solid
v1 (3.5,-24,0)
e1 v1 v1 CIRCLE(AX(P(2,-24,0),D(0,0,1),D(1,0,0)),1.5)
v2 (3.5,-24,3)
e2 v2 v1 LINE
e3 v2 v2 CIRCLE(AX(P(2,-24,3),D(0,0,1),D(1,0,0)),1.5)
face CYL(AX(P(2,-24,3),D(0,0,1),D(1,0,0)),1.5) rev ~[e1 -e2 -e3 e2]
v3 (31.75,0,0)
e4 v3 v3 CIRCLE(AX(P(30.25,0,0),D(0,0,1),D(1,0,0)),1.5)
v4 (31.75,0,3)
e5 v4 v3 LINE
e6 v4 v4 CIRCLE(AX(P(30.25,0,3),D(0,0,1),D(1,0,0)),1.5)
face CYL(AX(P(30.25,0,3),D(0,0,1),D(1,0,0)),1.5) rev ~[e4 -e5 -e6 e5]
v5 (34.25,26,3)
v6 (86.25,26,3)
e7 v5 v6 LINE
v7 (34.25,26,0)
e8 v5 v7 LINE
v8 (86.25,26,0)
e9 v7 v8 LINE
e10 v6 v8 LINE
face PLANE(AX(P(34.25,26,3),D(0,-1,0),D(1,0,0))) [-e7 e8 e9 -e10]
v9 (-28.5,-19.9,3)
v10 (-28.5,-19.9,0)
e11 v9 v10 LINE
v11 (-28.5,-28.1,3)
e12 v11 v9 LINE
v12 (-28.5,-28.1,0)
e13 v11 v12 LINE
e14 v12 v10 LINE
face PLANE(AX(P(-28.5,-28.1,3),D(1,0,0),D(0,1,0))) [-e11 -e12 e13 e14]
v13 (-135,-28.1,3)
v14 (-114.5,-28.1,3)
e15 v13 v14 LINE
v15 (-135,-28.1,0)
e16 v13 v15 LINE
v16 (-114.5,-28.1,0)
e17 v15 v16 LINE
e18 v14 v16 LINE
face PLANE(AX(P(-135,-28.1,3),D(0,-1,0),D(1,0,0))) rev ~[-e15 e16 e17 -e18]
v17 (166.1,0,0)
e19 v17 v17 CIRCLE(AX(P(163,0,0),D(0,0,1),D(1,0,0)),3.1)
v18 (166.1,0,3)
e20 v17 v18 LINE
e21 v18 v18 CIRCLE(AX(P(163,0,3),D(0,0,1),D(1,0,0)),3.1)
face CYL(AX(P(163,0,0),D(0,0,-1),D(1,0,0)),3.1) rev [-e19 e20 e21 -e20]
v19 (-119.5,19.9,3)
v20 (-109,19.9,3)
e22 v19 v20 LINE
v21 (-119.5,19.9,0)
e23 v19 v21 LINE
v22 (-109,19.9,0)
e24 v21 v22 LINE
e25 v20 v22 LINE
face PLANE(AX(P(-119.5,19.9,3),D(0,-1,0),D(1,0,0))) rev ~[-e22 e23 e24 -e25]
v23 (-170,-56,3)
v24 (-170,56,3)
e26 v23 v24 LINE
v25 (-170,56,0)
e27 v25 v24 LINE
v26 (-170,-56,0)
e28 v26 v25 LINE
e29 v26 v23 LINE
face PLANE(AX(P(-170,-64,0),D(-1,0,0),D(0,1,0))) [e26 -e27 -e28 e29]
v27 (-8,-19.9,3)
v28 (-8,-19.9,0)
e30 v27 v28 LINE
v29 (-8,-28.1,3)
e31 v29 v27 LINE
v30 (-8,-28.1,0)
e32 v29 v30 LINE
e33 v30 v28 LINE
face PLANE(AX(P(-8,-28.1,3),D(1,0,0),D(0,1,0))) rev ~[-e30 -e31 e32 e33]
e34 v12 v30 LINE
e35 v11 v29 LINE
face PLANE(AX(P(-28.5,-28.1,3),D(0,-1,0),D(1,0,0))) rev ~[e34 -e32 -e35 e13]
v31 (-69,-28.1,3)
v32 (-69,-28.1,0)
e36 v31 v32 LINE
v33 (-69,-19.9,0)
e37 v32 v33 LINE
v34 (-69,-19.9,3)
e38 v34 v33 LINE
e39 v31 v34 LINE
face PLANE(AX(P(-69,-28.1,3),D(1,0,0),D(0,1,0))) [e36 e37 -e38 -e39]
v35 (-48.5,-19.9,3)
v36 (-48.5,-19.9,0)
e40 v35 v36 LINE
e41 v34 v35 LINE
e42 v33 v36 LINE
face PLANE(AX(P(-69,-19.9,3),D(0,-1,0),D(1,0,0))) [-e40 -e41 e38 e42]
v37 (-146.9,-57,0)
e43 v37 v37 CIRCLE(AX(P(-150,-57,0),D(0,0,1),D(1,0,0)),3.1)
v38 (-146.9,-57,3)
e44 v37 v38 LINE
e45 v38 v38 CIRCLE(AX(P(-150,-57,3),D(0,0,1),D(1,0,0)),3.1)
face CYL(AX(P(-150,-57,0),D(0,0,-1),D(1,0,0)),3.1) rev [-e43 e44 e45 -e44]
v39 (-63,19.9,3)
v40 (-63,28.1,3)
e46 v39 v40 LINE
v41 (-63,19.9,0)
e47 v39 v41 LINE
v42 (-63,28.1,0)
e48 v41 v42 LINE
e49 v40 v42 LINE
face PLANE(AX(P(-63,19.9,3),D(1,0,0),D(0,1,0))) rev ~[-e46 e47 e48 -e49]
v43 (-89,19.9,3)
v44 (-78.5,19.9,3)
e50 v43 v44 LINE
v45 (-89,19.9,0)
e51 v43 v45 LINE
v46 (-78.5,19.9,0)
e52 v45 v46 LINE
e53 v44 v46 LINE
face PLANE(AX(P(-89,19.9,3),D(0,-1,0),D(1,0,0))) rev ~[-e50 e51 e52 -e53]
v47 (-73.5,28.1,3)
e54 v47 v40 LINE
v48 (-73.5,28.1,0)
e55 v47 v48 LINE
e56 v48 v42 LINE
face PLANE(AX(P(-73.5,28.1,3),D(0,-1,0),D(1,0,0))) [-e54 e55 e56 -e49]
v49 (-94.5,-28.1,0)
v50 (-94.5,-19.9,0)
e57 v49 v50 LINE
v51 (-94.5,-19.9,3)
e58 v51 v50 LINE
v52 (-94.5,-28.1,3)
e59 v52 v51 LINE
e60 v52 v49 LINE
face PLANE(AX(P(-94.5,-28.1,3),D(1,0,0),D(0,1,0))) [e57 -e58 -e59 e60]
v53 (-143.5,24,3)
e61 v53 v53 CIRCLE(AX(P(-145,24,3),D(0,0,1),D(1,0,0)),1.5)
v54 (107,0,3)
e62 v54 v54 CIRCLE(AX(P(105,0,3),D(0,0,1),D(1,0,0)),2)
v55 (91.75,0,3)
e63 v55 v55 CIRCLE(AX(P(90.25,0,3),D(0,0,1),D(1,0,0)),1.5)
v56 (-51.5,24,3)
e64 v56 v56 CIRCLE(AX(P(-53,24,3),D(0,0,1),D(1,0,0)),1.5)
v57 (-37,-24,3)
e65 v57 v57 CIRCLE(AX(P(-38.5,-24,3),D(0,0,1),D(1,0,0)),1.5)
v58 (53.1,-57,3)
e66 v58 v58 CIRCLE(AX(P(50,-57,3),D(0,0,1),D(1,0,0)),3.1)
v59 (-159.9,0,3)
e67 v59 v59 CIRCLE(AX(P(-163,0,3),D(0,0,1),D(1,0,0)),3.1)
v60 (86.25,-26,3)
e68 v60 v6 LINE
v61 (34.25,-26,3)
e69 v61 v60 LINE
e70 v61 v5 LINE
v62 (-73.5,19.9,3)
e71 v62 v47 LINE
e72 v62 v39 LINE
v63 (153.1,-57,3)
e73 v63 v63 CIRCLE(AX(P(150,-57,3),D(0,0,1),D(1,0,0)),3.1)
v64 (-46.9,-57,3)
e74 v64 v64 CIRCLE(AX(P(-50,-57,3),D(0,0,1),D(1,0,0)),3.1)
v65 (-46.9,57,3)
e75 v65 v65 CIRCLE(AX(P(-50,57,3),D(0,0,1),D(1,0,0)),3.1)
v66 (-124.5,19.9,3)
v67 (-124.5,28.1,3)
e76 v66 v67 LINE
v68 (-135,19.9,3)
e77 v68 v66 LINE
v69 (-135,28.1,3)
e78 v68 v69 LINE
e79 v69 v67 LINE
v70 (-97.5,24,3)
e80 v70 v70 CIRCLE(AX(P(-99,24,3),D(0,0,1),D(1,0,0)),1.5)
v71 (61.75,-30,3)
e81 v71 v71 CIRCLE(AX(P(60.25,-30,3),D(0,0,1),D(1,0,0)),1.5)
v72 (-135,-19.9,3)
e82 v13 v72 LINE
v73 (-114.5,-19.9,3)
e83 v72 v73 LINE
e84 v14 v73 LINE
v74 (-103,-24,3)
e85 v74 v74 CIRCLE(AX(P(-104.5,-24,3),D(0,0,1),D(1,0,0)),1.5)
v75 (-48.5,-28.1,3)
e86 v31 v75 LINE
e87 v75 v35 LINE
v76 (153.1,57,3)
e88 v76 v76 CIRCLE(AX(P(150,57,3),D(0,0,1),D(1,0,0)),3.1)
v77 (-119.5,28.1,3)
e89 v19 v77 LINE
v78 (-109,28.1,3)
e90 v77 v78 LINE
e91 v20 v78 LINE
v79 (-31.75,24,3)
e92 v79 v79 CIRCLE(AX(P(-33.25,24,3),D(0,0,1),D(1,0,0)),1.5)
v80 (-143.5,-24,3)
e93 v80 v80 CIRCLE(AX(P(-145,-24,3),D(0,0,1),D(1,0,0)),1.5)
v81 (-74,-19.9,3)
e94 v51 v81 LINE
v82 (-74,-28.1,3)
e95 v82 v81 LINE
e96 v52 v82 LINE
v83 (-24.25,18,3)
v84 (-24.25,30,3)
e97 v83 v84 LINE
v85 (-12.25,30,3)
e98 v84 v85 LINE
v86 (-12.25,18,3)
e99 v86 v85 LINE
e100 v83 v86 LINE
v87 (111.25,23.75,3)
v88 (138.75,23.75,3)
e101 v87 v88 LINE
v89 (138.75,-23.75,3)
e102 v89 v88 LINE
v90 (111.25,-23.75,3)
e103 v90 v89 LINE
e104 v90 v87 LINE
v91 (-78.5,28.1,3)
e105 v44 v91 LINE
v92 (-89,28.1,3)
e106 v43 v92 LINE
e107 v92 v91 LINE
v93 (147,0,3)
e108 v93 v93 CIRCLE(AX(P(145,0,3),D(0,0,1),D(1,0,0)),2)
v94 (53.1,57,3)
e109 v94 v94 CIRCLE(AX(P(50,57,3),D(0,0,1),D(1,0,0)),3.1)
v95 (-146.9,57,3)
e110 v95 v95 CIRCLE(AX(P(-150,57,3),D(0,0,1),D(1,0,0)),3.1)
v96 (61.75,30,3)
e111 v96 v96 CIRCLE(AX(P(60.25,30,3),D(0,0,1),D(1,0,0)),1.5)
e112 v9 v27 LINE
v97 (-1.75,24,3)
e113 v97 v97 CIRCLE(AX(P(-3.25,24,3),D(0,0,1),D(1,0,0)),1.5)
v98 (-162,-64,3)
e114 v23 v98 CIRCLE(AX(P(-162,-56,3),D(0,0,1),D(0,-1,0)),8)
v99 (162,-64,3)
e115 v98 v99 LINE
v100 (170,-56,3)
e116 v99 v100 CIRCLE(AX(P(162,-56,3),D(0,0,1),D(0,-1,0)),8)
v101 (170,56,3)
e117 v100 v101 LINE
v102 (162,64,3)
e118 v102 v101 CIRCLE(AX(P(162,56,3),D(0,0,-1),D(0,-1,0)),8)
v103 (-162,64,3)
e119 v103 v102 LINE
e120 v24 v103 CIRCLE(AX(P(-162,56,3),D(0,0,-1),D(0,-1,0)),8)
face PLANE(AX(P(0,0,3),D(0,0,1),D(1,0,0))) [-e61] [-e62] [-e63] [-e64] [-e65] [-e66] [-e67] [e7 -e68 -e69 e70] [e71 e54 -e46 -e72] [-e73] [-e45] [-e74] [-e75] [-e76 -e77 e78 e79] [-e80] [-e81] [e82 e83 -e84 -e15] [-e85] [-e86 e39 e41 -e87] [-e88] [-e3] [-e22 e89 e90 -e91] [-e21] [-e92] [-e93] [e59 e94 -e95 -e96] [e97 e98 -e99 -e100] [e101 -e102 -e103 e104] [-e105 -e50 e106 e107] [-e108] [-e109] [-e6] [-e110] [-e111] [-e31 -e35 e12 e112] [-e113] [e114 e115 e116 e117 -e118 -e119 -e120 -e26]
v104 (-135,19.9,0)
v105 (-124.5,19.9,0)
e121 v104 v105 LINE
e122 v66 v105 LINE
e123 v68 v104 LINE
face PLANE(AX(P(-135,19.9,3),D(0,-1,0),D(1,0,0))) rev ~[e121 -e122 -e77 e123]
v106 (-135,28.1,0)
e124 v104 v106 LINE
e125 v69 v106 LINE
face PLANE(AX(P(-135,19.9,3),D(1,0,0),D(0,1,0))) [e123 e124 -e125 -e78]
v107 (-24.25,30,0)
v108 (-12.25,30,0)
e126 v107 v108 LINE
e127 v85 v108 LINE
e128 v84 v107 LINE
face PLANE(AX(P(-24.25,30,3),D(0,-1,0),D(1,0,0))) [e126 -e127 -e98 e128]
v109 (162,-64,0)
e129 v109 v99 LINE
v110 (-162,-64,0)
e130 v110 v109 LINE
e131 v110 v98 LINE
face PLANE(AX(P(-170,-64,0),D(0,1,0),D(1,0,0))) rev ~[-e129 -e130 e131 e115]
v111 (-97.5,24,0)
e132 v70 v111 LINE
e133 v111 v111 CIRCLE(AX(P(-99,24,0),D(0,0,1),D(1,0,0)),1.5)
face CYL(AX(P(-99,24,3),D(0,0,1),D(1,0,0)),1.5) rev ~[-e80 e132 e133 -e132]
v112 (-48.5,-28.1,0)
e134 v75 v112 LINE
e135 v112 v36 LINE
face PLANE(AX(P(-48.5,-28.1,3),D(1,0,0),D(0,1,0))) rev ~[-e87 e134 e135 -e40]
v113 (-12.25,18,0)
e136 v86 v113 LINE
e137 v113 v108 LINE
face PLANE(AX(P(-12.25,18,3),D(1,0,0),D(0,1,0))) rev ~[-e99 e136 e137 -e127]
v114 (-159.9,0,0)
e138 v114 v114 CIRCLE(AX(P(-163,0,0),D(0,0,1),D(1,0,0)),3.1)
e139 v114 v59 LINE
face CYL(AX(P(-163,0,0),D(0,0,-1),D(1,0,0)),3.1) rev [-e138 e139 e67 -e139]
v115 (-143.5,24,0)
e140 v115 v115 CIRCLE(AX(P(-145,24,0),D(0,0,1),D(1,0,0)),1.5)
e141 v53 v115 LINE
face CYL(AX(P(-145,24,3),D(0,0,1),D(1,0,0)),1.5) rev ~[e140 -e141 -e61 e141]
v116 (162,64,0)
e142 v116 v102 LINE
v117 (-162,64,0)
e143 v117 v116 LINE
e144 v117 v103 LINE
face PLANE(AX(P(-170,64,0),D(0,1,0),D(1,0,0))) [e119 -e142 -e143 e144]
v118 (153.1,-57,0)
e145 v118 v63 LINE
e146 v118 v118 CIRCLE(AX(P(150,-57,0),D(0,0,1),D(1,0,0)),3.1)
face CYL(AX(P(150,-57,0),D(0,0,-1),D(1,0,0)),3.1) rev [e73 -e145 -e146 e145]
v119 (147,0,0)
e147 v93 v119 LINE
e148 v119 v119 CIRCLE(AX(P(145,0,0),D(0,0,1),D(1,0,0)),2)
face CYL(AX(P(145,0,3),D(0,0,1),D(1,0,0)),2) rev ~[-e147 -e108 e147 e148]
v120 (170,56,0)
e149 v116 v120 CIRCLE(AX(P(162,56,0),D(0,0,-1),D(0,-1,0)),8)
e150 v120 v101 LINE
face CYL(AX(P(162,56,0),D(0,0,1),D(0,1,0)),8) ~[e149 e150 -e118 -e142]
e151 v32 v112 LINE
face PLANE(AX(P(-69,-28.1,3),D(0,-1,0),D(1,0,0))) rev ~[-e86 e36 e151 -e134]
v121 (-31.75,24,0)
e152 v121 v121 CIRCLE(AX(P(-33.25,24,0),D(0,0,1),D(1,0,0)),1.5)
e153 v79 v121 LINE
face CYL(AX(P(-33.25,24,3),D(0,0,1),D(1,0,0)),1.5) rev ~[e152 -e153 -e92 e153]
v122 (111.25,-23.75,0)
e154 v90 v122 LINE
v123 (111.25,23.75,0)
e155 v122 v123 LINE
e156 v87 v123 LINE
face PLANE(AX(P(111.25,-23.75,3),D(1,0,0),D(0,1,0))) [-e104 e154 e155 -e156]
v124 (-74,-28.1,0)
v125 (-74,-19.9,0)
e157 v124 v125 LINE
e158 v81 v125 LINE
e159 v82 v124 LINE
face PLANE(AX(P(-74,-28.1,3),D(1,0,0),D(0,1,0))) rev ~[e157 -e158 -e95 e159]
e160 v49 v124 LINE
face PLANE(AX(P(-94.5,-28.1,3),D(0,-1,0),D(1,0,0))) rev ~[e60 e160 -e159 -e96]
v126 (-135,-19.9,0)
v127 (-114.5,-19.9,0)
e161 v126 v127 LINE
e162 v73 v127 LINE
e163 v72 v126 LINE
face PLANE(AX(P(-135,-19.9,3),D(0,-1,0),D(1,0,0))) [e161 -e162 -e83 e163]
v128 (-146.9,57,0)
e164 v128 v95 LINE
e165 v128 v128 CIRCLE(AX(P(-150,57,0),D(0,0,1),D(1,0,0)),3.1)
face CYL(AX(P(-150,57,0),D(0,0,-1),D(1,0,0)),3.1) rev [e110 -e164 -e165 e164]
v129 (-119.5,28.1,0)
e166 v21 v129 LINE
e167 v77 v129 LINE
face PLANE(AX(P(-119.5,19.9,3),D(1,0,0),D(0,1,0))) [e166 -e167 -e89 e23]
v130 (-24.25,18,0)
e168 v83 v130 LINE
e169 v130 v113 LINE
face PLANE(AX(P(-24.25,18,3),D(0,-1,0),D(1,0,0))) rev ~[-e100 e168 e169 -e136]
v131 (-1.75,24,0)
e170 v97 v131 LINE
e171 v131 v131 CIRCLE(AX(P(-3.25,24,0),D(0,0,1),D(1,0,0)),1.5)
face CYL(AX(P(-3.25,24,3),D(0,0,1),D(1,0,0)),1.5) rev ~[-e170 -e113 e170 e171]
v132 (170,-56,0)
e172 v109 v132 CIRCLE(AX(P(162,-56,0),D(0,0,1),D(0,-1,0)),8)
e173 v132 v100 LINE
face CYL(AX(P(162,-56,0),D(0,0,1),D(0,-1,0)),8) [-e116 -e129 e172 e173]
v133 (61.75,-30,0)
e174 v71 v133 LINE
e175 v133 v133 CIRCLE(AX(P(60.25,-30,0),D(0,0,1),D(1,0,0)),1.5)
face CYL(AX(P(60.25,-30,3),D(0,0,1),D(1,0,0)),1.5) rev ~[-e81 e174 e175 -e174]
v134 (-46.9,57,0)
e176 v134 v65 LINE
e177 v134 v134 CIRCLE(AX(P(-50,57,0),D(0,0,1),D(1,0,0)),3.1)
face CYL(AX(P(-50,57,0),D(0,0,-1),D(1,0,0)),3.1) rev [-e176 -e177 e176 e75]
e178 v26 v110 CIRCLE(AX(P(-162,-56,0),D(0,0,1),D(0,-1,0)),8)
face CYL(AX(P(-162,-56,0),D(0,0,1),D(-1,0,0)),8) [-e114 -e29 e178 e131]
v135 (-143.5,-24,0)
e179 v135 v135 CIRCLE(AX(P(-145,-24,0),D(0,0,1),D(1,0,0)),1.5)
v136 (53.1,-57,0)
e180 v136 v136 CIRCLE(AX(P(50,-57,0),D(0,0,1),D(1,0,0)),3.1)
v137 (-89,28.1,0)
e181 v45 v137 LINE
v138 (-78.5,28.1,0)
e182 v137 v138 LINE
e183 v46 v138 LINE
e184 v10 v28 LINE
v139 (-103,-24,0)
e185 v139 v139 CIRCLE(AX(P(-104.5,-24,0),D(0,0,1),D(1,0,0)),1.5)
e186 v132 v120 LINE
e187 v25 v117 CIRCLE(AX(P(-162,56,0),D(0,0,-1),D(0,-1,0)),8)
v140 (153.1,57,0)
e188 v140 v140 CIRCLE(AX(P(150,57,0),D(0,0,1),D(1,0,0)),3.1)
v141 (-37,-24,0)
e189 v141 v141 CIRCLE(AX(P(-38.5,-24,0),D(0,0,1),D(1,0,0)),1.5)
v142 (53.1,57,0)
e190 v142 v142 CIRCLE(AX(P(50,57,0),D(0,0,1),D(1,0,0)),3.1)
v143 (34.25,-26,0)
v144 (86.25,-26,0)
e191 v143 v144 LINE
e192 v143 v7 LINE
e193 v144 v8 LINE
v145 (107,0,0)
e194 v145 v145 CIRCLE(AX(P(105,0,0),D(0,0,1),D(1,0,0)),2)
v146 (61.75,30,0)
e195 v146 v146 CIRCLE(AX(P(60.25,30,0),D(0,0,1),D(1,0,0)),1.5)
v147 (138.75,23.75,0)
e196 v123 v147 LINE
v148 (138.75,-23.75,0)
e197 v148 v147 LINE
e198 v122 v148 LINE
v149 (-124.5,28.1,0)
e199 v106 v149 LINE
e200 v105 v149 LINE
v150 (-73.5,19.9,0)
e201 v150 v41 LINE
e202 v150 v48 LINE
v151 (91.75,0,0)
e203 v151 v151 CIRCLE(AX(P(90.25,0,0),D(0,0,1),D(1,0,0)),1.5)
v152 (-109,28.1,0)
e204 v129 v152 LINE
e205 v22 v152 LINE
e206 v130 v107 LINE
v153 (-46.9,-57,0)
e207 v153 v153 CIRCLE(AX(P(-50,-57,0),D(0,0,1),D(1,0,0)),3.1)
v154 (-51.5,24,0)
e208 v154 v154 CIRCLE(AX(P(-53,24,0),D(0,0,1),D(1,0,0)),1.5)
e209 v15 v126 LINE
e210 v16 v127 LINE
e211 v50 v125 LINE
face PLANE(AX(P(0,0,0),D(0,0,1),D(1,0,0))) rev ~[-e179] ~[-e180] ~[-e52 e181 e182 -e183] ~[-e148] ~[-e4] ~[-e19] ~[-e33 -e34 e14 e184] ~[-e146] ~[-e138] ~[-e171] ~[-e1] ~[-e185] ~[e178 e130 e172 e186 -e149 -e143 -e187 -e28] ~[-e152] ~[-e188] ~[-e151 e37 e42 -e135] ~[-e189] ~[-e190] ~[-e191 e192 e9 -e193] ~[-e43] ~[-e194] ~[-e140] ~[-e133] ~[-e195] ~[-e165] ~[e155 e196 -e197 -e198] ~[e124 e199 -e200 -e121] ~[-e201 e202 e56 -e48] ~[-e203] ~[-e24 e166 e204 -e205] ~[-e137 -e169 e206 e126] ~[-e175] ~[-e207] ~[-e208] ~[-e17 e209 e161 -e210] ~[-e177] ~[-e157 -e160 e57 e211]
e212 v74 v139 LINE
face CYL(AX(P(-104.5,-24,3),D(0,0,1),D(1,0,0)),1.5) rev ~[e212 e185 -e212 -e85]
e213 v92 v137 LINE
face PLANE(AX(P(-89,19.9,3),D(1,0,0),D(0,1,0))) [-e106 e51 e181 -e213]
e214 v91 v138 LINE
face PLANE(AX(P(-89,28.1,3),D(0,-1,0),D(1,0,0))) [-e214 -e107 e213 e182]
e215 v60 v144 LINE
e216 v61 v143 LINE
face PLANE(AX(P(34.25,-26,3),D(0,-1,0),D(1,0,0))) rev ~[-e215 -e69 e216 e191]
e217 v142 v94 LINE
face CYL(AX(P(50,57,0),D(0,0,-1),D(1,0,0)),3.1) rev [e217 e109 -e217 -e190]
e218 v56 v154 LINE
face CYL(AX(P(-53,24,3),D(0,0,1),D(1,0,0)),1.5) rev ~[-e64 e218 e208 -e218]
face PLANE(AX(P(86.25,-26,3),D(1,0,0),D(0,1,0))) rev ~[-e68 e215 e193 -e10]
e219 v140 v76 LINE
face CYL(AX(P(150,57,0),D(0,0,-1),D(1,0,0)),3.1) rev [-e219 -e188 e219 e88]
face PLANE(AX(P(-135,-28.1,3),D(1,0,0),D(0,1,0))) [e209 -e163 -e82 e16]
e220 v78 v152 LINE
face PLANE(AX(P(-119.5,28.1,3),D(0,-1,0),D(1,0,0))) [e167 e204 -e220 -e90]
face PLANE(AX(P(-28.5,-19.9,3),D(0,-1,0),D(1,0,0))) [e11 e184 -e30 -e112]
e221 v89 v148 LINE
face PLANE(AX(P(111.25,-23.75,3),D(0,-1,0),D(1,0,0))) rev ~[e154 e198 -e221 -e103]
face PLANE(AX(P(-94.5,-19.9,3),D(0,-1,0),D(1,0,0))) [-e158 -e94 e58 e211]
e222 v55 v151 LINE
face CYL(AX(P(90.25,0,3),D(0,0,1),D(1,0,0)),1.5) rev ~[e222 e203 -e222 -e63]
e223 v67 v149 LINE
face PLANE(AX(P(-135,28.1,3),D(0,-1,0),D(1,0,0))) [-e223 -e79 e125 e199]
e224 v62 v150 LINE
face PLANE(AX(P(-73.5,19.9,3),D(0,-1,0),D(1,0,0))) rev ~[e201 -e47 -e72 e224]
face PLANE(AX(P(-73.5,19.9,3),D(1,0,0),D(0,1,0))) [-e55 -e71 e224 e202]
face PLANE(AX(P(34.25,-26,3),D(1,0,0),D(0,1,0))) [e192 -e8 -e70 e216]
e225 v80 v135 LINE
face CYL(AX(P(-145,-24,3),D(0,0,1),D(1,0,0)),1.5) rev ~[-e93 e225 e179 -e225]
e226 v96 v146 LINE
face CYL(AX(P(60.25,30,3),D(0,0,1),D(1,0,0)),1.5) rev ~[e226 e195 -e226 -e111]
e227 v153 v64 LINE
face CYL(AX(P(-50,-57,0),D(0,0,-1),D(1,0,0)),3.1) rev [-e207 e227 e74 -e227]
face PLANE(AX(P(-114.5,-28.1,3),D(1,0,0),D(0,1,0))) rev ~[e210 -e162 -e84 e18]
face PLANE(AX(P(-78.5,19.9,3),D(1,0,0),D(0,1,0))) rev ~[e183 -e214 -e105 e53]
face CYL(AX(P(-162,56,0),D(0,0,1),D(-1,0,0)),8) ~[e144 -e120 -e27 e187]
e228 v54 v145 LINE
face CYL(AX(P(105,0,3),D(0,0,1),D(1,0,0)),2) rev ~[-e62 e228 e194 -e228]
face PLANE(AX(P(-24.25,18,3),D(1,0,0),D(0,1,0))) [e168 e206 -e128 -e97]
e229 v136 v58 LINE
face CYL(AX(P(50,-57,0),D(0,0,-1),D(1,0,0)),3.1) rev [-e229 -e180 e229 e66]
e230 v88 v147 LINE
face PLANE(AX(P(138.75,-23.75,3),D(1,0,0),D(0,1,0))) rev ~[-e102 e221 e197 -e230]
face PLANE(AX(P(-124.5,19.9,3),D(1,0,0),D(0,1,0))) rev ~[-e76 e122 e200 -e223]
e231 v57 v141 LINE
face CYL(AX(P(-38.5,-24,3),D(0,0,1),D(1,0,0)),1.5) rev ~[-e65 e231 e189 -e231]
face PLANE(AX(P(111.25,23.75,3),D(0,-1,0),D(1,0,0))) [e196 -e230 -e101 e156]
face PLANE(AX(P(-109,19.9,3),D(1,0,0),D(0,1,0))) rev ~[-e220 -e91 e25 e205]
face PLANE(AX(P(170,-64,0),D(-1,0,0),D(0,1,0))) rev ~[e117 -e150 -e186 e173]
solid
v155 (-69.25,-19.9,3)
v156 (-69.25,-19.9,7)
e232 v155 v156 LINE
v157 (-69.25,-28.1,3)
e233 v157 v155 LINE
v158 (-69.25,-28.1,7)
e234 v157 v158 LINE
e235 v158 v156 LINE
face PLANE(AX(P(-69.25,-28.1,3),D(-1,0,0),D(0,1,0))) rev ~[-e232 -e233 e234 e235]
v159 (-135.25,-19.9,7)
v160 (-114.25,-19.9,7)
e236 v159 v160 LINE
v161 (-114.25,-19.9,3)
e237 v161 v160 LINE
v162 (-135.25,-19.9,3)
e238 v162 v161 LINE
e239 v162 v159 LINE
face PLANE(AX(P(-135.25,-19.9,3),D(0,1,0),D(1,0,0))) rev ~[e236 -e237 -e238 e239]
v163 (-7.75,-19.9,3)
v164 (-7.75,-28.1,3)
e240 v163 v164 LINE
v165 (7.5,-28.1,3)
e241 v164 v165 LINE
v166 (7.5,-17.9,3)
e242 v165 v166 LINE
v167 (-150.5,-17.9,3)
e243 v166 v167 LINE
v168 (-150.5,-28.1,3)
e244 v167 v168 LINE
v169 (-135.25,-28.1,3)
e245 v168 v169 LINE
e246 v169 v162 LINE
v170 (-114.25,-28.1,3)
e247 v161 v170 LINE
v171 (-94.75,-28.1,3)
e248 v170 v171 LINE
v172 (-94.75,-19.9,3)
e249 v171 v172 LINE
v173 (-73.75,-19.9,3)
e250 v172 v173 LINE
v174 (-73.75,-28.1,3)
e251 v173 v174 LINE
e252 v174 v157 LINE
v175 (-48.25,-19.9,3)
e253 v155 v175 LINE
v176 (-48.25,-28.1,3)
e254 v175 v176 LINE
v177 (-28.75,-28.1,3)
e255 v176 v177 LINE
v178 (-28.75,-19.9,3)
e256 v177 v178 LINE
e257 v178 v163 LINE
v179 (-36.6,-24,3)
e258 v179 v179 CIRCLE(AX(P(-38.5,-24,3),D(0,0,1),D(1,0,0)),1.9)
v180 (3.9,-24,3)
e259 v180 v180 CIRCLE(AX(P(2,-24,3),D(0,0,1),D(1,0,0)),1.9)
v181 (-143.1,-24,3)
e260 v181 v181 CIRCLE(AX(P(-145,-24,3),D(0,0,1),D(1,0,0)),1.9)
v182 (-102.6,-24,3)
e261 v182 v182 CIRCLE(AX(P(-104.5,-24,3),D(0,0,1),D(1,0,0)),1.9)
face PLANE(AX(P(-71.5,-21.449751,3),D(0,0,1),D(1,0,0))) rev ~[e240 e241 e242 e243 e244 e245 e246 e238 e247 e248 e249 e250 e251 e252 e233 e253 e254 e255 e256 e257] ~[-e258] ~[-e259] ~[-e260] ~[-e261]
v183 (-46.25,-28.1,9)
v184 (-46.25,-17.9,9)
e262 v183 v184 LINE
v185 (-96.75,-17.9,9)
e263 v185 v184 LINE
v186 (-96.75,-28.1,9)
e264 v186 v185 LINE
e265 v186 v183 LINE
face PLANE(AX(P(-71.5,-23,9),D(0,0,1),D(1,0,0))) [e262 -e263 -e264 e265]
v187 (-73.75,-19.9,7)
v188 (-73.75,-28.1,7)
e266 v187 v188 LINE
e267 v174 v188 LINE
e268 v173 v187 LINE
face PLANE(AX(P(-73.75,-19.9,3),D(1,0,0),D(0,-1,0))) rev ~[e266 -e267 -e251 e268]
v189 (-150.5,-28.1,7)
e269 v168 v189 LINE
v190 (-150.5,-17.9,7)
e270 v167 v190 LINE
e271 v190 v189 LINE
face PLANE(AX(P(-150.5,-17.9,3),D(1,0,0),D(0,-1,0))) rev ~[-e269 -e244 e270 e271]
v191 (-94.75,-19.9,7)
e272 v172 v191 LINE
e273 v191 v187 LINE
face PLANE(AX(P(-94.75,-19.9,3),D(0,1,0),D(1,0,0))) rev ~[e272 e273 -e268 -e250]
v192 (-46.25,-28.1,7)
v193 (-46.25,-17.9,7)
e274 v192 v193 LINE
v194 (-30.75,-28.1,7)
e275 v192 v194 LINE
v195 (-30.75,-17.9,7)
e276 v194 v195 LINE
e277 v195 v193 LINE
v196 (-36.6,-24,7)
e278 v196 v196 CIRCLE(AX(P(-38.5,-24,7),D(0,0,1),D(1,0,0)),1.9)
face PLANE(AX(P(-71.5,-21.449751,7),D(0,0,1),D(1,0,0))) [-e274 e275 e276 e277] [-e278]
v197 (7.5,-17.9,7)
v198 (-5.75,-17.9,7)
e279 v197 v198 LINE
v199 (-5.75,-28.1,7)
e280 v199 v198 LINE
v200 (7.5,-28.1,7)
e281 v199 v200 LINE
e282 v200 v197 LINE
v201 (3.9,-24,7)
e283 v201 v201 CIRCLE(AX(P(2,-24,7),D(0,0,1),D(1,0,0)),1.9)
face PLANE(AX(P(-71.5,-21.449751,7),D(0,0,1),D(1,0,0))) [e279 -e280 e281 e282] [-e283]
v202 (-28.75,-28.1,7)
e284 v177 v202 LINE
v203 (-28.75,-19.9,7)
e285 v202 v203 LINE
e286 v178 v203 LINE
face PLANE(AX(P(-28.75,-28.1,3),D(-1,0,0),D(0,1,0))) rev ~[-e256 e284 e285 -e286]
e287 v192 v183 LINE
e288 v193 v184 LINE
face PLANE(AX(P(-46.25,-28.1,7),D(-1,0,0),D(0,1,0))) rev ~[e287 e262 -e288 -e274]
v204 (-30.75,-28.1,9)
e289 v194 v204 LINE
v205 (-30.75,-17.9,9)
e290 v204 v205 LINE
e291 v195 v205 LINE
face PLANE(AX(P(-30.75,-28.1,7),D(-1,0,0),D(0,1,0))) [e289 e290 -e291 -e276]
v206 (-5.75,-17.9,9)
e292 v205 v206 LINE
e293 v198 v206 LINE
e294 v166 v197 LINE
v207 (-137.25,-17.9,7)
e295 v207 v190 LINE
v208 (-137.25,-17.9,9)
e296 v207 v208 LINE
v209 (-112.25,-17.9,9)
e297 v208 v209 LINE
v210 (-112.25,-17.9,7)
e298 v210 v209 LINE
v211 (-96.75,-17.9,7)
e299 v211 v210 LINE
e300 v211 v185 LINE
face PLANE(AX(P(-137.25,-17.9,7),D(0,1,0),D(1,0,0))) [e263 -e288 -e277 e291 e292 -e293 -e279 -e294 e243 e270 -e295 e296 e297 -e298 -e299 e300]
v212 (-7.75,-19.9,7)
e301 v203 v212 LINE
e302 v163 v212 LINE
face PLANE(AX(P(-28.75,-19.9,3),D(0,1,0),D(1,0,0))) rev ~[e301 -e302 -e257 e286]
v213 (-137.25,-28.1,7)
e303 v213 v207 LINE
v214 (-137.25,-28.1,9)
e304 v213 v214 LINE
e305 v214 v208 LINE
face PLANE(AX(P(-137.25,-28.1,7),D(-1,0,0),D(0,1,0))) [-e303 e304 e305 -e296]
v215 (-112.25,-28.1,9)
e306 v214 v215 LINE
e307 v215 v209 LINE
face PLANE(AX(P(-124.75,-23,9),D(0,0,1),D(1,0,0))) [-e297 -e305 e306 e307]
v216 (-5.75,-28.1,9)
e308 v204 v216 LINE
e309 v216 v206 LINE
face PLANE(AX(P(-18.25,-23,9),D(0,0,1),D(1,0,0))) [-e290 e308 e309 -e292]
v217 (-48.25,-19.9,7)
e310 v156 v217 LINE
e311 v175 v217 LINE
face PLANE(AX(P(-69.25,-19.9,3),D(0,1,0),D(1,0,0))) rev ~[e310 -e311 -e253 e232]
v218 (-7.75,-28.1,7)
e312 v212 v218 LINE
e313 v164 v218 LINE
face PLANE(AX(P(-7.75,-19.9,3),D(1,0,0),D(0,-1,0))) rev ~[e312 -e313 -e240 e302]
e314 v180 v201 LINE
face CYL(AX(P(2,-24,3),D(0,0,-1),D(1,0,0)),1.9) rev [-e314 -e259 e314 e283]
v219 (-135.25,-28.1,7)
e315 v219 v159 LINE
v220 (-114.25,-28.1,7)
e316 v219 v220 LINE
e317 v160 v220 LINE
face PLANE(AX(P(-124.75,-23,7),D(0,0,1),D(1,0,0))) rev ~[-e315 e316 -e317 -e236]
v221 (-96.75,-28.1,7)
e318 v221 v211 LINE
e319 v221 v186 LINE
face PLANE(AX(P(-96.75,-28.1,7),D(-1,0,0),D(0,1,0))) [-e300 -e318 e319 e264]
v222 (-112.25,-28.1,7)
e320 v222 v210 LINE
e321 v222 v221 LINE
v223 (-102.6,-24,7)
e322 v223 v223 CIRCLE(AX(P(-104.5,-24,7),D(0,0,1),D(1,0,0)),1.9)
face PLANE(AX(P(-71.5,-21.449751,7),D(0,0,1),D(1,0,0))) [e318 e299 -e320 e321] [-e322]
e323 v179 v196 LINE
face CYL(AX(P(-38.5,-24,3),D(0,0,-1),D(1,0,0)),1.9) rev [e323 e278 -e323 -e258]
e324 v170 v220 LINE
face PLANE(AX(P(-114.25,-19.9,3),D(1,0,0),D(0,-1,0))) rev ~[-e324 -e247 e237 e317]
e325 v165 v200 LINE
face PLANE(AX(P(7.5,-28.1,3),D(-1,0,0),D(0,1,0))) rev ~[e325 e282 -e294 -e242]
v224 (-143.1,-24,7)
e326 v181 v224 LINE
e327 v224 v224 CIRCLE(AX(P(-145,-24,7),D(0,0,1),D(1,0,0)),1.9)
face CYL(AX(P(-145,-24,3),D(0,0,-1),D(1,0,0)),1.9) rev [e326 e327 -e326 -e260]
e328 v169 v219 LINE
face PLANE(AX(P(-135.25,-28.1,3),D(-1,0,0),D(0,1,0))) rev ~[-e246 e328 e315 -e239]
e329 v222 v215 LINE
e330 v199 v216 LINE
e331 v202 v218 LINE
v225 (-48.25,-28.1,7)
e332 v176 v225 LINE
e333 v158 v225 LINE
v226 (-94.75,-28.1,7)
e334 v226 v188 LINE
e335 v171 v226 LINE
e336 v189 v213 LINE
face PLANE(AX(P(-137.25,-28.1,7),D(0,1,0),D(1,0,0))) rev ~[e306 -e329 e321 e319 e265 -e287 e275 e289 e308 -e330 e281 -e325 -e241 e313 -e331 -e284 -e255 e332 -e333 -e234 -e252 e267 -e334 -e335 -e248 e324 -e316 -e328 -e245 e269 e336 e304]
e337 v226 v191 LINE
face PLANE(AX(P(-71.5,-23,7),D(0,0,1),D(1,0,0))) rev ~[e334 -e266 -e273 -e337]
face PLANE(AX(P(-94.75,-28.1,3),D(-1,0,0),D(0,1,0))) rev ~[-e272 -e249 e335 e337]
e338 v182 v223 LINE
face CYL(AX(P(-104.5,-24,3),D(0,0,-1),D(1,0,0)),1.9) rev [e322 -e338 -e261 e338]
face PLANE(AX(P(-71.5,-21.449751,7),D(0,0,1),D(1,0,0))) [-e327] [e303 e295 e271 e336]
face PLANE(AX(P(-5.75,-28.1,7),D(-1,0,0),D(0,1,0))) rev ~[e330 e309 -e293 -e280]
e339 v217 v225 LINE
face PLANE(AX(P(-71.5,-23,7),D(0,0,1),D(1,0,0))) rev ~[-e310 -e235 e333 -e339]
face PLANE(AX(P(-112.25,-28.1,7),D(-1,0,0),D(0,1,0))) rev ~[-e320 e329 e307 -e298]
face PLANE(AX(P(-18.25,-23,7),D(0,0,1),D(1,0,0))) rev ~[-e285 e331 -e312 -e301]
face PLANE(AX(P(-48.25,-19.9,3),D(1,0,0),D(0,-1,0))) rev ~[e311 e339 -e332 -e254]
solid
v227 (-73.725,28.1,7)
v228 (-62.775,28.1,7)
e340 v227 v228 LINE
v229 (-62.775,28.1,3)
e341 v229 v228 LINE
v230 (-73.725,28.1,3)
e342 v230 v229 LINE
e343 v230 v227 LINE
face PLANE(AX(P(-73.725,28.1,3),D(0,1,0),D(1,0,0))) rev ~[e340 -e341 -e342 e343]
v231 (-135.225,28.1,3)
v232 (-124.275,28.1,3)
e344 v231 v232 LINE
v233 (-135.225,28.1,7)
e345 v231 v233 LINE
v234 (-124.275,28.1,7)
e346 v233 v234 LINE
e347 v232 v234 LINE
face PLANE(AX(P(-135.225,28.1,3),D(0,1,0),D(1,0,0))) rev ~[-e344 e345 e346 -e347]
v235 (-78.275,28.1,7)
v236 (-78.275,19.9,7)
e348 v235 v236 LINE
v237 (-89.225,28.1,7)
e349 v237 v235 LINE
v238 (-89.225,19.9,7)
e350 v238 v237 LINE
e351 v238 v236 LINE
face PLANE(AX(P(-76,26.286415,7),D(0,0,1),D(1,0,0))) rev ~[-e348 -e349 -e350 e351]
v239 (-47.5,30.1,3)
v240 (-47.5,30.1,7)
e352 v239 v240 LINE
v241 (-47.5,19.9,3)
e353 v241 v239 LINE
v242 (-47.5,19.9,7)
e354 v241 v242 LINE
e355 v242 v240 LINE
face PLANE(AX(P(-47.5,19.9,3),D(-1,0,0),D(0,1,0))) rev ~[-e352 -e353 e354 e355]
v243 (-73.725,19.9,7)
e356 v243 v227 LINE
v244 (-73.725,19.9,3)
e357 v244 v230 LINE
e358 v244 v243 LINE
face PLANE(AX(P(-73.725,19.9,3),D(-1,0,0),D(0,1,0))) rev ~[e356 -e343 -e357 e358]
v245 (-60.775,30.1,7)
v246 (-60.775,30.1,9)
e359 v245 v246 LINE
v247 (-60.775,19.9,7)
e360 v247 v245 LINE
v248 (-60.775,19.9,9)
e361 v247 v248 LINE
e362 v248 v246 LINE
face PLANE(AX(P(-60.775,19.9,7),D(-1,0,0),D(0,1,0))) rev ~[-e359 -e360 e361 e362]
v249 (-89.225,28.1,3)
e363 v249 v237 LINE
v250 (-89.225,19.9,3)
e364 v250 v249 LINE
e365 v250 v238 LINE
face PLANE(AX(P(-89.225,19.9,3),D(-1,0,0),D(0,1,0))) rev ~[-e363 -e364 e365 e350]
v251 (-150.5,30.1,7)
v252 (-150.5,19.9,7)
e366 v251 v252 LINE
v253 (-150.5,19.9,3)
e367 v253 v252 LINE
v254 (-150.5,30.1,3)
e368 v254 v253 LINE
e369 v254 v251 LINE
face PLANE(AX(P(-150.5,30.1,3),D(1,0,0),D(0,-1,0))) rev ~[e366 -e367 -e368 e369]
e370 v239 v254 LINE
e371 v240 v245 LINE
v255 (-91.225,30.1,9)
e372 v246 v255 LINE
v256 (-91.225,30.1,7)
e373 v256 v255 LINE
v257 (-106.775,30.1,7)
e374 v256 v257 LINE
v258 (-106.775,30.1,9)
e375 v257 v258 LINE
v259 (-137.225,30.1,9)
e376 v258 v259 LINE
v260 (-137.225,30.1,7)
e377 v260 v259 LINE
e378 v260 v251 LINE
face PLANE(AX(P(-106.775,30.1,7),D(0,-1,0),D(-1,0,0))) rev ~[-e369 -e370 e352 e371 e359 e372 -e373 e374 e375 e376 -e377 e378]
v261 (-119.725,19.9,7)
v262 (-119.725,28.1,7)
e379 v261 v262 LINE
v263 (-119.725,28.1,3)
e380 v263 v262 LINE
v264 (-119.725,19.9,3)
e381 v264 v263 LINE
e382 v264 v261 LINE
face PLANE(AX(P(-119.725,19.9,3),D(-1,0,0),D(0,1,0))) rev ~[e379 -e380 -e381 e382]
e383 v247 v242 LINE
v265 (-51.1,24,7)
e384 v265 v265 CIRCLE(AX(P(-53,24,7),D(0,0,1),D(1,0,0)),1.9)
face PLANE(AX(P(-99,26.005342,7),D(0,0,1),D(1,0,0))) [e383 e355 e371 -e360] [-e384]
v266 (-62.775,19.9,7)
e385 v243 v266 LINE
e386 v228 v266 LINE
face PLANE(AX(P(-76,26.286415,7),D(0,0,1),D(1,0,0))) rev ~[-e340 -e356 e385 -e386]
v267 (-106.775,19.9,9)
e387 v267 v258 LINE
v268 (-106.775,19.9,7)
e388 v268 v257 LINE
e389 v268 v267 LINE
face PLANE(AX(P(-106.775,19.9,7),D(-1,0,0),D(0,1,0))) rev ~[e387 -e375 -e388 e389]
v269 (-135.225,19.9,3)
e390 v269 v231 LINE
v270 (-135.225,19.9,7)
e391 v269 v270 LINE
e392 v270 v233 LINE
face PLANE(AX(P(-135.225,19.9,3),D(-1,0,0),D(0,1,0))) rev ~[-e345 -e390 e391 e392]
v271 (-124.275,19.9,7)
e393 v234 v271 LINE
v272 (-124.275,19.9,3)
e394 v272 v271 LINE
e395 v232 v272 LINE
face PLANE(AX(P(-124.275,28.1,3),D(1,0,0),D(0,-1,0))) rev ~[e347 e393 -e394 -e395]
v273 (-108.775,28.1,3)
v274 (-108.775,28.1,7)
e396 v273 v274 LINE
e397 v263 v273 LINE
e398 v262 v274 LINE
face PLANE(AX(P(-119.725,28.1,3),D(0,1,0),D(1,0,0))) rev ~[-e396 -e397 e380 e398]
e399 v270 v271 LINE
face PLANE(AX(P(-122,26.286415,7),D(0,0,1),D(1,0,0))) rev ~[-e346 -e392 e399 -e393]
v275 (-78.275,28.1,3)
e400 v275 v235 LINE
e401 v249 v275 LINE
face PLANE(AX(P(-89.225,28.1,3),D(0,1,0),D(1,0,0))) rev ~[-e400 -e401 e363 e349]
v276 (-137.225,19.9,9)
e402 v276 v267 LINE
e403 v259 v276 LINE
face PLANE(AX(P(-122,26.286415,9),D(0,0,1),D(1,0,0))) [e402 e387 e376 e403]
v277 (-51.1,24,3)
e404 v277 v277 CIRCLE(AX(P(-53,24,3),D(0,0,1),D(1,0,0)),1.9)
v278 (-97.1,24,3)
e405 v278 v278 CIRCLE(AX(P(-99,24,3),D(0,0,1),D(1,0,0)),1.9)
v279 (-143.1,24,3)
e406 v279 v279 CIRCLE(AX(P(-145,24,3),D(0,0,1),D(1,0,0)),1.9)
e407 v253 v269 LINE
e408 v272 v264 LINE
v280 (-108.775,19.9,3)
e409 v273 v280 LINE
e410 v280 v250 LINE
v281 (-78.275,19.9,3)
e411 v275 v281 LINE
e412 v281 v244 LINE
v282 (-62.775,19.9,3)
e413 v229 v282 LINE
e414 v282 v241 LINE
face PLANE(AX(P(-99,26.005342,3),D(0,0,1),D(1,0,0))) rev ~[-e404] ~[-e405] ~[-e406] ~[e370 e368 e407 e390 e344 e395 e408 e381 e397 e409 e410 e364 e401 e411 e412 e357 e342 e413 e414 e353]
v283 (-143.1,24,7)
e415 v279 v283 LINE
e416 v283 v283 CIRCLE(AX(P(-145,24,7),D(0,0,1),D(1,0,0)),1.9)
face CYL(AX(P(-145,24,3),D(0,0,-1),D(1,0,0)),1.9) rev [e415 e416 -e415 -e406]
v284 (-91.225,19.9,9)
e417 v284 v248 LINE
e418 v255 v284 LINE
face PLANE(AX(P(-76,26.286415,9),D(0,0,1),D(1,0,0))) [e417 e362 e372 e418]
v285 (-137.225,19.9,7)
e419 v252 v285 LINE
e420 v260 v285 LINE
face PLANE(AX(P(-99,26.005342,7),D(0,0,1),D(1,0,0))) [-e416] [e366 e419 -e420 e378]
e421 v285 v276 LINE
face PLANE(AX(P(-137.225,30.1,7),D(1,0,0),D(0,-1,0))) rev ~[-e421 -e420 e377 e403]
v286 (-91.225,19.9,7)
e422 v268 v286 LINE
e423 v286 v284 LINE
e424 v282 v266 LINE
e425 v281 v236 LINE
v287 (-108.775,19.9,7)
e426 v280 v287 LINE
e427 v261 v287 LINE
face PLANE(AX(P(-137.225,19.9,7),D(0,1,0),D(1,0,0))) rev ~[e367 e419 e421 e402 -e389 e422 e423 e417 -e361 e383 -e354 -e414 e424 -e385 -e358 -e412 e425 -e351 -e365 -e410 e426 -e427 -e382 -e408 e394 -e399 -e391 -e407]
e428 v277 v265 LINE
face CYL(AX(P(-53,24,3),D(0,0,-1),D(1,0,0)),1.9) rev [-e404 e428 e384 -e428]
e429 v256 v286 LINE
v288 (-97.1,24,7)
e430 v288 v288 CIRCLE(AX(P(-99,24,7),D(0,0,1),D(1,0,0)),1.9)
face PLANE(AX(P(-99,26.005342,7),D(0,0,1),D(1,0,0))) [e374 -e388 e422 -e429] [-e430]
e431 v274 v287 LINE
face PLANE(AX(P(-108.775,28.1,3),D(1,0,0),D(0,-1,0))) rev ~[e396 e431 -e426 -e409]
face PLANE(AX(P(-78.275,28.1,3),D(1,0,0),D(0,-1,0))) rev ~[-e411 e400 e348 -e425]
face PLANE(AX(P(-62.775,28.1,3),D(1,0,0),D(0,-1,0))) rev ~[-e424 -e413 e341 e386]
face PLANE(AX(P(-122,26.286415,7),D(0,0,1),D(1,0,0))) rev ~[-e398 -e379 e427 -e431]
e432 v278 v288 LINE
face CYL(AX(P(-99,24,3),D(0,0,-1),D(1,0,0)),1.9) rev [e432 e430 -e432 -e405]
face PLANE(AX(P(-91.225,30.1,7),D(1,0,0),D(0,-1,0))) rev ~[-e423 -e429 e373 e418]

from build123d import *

# Parameters (mm, degrees)
F0_W      = 340
F0_H      = 128
F0_R      = 3.1
F1_DEPTH  = 3
F2_W      = 27.5
F2_H      = 47.5
F2_W_2    = 52
F2_H_2    = 52
F2_R      = 2
F2_R_2    = 1.5
F2_W_3    = 20.5
F2_H_3    = 8.2
F2_W_4    = 10.5
F2_W_5    = 12
F2_H_4    = 12
F3_DEPTH  = 3.001
F4_R      = 8
F6_R      = 1.9
F7_DEPTH  = 4
F8_W      = 25
F8_H      = 10.2
F8_W_2    = 50.5
F9_DEPTH  = 2
F10_R     = 1.9
F11_DEPTH = 4
F12_W     = 10.95
F12_H     = 8.2
F13_DEPTH = 2


with BuildPart() as f1:
    # F0 (on Top) → F1 (new body)
    with BuildSketch(Plane.XY):
        Rectangle(F0_W, F0_H)
        with Locations((-150, -57)):
            Circle(F0_R, mode=Mode.SUBTRACT)
        with Locations((-50, -57)):
            Circle(F0_R, mode=Mode.SUBTRACT)
        with Locations((50, -57)):
            Circle(F0_R, mode=Mode.SUBTRACT)
        with Locations((150, -57)):
            Circle(F0_R, mode=Mode.SUBTRACT)
        with Locations((-163, 0)):
            Circle(F0_R, mode=Mode.SUBTRACT)
        with Locations((-150, 57)):
            Circle(F0_R, mode=Mode.SUBTRACT)
        with Locations((-50, 57)):
            Circle(F0_R, mode=Mode.SUBTRACT)
        with Locations((163, 0)):
            Circle(F0_R, mode=Mode.SUBTRACT)
        with Locations((50, 57)):
            Circle(F0_R, mode=Mode.SUBTRACT)
        with Locations((150, 57)):
            Circle(F0_R, mode=Mode.SUBTRACT)
    extrude(amount=F1_DEPTH)

    # F2 (on face) → F3 (cut, through all)
    with BuildSketch(Plane.XY.offset(3)):
        with Locations((125, 0)):
            Rectangle(F2_W, F2_H)
        with Locations((60.25, 0)):
            Rectangle(F2_W_2, F2_H_2)
        with Locations((105, 0)):
            Circle(F2_R)
        with Locations((145, 0)):
            Circle(F2_R)
        with Locations((60.25, 30)):
            Circle(F2_R_2)
        with Locations((60.25, -30)):
            Circle(F2_R_2)
        with Locations((30.25, 0)):
            Circle(F2_R_2)
        with Locations((90.25, 0)):
            Circle(F2_R_2)
        with Locations((-124.75, -24)):
            Rectangle(F2_W_3, F2_H_3)
        with Locations((-84.25, -24)):
            Rectangle(F2_W_3, F2_H_3)
        with Locations((-58.75, -24)):
            Rectangle(F2_W_3, F2_H_3)
        with Locations((-18.25, -24)):
            Rectangle(F2_W_3, F2_H_3)
        with Locations((-104.5, -24)):
            Circle(F2_R_2)
        with Locations((-38.5, -24)):
            Circle(F2_R_2)
        with Locations((2, -24)):
            Circle(F2_R_2)
        with Locations((-145, -24)):
            Circle(F2_R_2)
        with Locations((-129.75, 24)):
            Rectangle(F2_W_4, F2_H_3)
        with Locations((-114.25, 24)):
            Rectangle(F2_W_4, F2_H_3)
        with Locations((-83.75, 24)):
            Rectangle(F2_W_4, F2_H_3)
        with Locations((-68.25, 24)):
            Rectangle(F2_W_4, F2_H_3)
        with Locations((-145, 24)):
            Circle(F2_R_2)
        with Locations((-99, 24)):
            Circle(F2_R_2)
        with Locations((-53, 24)):
            Circle(F2_R_2)
        with Locations((-18.25, 24)):
            Rectangle(F2_W_5, F2_H_4)
        with Locations((-33.25, 24)):
            Circle(F2_R_2)
        with Locations((-3.25, 24)):
            Circle(F2_R_2)
    extrude(amount=-F3_DEPTH, mode=Mode.SUBTRACT)

    # F4
    f4_edges = [f1.edges().sort_by_distance(p)[0] for p in [
        (170, -64, 1.5),
        (170, 64, 1.5),
        (-170, -64, 1.5),
        (-170, 64, 1.5),
    ]]
    fillet(f4_edges, radius=F4_R)


with BuildPart() as f7:
    # F6 (on face) → F7 (new body)
    with BuildSketch(Plane.XY.offset(3)):
        Polygon((7.5, -17.9), (-150.5, -17.9), (-150.5, -28.1), (-135.25, -28.1), (-135.25, -19.9), (-135, -19.9), (-114.5, -19.9), (-114.25, -19.9), (-114.25, -28.1), (-94.75, -28.1), (-94.75, -19.9), (-94.5, -19.9), (-74, -19.9), (-73.75, -19.9), (-73.75, -28.1), (-69.25, -28.1), (-69.25, -19.9), (-69, -19.9), (-48.5, -19.9), (-48.25, -19.9), (-48.25, -28.1), (-28.75, -28.1), (-28.75, -19.9), (-28.5, -19.9), (-8, -19.9), (-7.75, -19.9), (-7.75, -28.1), (7.5, -28.1), align=None)
        with Locations((-145, -24)):
            Circle(F6_R, mode=Mode.SUBTRACT)
        with Locations((-104.5, -24)):
            Circle(F6_R, mode=Mode.SUBTRACT)
        with Locations((-38.5, -24)):
            Circle(F6_R, mode=Mode.SUBTRACT)
        with Locations((2, -24)):
            Circle(F6_R, mode=Mode.SUBTRACT)
    extrude(amount=F7_DEPTH)

    # F8 (on face) → F9 (join)
    with BuildSketch(Plane.XY.offset(7)):
        with Locations((-124.75, -23)):
            Rectangle(F8_W, F8_H)
        with Locations((-71.5, -23)):
            Rectangle(F8_W_2, F8_H)
        with Locations((-18.25, -23)):
            Rectangle(F8_W, F8_H)
        Polygon((-112.25, -17.9), (-137.25, -17.9), (-137.25, -28.1), (-135.25, -28.1), (-112.25, -28.1), align=None)
        Polygon((-46.25, -17.9), (-96.75, -17.9), (-96.75, -28.1), (-94.75, -28.1), (-46.25, -28.1), align=None)
        Polygon((-46.25, -17.9), (-96.75, -17.9), (-96.75, -28.1), (-94.75, -28.1), (-69.25, -28.1), (-46.25, -28.1), align=None)
        Polygon((-5.75, -17.9), (-30.75, -17.9), (-30.75, -28.1), (-28.75, -28.1), (-5.75, -28.1), align=None)
    extrude(amount=F9_DEPTH)


with BuildPart() as f11:
    # F10 (on face) → F11 (new body)
    with BuildSketch(Plane.XY.offset(3)):
        Polygon((-47.5, 30.1), (-150.5, 30.1), (-150.5, 19.9), (-135.225, 19.9), (-135.225, 28.1), (-135, 28.1), (-124.5, 28.1), (-124.275, 28.1), (-124.275, 19.9), (-119.725, 19.9), (-119.725, 28.1), (-119.5, 28.1), (-109, 28.1), (-108.775, 28.1), (-108.775, 19.9), (-89.225, 19.9), (-89.225, 28.1), (-89, 28.1), (-78.5, 28.1), (-78.275, 28.1), (-78.275, 19.9), (-73.725, 19.9), (-73.725, 28.1), (-73.5, 28.1), (-63, 28.1), (-62.775, 28.1), (-62.775, 19.9), (-47.5, 19.9), align=None)
        with Locations((-145, 24)):
            Circle(F10_R, mode=Mode.SUBTRACT)
        with Locations((-99, 24)):
            Circle(F10_R, mode=Mode.SUBTRACT)
        with Locations((-53, 24)):
            Circle(F10_R, mode=Mode.SUBTRACT)
    extrude(amount=F11_DEPTH)

    # F12 (on face) → F13 (join)
    with BuildSketch(Plane.XY.offset(7)):
        Polygon((-106.775, 30.1), (-137.225, 30.1), (-137.225, 19.9), (-135.225, 19.9), (-135.225, 28.1), (-124.275, 28.1), (-124.275, 19.9), (-119.725, 19.9), (-119.725, 28.1), (-108.775, 28.1), (-108.775, 19.9), (-106.775, 19.9), align=None)
        with Locations((-129.75, 24)):
            Rectangle(F12_W, F12_H)
        with Locations((-114.25, 24)):
            Rectangle(F12_W, F12_H)
        Polygon((-60.775, 30.1), (-91.225, 30.1), (-91.225, 19.9), (-89.225, 19.9), (-89.225, 28.1), (-78.275, 28.1), (-78.275, 19.9), (-73.725, 19.9), (-73.725, 28.1), (-62.775, 28.1), (-62.775, 19.9), (-60.775, 19.9), align=None)
        with Locations((-83.75, 24)):
            Rectangle(F12_W, F12_H)
        with Locations((-68.25, 24)):
            Rectangle(F12_W, F12_H)
    extrude(amount=F13_DEPTH)


solid = Compound([f1.part, f7.part, f11.part])
